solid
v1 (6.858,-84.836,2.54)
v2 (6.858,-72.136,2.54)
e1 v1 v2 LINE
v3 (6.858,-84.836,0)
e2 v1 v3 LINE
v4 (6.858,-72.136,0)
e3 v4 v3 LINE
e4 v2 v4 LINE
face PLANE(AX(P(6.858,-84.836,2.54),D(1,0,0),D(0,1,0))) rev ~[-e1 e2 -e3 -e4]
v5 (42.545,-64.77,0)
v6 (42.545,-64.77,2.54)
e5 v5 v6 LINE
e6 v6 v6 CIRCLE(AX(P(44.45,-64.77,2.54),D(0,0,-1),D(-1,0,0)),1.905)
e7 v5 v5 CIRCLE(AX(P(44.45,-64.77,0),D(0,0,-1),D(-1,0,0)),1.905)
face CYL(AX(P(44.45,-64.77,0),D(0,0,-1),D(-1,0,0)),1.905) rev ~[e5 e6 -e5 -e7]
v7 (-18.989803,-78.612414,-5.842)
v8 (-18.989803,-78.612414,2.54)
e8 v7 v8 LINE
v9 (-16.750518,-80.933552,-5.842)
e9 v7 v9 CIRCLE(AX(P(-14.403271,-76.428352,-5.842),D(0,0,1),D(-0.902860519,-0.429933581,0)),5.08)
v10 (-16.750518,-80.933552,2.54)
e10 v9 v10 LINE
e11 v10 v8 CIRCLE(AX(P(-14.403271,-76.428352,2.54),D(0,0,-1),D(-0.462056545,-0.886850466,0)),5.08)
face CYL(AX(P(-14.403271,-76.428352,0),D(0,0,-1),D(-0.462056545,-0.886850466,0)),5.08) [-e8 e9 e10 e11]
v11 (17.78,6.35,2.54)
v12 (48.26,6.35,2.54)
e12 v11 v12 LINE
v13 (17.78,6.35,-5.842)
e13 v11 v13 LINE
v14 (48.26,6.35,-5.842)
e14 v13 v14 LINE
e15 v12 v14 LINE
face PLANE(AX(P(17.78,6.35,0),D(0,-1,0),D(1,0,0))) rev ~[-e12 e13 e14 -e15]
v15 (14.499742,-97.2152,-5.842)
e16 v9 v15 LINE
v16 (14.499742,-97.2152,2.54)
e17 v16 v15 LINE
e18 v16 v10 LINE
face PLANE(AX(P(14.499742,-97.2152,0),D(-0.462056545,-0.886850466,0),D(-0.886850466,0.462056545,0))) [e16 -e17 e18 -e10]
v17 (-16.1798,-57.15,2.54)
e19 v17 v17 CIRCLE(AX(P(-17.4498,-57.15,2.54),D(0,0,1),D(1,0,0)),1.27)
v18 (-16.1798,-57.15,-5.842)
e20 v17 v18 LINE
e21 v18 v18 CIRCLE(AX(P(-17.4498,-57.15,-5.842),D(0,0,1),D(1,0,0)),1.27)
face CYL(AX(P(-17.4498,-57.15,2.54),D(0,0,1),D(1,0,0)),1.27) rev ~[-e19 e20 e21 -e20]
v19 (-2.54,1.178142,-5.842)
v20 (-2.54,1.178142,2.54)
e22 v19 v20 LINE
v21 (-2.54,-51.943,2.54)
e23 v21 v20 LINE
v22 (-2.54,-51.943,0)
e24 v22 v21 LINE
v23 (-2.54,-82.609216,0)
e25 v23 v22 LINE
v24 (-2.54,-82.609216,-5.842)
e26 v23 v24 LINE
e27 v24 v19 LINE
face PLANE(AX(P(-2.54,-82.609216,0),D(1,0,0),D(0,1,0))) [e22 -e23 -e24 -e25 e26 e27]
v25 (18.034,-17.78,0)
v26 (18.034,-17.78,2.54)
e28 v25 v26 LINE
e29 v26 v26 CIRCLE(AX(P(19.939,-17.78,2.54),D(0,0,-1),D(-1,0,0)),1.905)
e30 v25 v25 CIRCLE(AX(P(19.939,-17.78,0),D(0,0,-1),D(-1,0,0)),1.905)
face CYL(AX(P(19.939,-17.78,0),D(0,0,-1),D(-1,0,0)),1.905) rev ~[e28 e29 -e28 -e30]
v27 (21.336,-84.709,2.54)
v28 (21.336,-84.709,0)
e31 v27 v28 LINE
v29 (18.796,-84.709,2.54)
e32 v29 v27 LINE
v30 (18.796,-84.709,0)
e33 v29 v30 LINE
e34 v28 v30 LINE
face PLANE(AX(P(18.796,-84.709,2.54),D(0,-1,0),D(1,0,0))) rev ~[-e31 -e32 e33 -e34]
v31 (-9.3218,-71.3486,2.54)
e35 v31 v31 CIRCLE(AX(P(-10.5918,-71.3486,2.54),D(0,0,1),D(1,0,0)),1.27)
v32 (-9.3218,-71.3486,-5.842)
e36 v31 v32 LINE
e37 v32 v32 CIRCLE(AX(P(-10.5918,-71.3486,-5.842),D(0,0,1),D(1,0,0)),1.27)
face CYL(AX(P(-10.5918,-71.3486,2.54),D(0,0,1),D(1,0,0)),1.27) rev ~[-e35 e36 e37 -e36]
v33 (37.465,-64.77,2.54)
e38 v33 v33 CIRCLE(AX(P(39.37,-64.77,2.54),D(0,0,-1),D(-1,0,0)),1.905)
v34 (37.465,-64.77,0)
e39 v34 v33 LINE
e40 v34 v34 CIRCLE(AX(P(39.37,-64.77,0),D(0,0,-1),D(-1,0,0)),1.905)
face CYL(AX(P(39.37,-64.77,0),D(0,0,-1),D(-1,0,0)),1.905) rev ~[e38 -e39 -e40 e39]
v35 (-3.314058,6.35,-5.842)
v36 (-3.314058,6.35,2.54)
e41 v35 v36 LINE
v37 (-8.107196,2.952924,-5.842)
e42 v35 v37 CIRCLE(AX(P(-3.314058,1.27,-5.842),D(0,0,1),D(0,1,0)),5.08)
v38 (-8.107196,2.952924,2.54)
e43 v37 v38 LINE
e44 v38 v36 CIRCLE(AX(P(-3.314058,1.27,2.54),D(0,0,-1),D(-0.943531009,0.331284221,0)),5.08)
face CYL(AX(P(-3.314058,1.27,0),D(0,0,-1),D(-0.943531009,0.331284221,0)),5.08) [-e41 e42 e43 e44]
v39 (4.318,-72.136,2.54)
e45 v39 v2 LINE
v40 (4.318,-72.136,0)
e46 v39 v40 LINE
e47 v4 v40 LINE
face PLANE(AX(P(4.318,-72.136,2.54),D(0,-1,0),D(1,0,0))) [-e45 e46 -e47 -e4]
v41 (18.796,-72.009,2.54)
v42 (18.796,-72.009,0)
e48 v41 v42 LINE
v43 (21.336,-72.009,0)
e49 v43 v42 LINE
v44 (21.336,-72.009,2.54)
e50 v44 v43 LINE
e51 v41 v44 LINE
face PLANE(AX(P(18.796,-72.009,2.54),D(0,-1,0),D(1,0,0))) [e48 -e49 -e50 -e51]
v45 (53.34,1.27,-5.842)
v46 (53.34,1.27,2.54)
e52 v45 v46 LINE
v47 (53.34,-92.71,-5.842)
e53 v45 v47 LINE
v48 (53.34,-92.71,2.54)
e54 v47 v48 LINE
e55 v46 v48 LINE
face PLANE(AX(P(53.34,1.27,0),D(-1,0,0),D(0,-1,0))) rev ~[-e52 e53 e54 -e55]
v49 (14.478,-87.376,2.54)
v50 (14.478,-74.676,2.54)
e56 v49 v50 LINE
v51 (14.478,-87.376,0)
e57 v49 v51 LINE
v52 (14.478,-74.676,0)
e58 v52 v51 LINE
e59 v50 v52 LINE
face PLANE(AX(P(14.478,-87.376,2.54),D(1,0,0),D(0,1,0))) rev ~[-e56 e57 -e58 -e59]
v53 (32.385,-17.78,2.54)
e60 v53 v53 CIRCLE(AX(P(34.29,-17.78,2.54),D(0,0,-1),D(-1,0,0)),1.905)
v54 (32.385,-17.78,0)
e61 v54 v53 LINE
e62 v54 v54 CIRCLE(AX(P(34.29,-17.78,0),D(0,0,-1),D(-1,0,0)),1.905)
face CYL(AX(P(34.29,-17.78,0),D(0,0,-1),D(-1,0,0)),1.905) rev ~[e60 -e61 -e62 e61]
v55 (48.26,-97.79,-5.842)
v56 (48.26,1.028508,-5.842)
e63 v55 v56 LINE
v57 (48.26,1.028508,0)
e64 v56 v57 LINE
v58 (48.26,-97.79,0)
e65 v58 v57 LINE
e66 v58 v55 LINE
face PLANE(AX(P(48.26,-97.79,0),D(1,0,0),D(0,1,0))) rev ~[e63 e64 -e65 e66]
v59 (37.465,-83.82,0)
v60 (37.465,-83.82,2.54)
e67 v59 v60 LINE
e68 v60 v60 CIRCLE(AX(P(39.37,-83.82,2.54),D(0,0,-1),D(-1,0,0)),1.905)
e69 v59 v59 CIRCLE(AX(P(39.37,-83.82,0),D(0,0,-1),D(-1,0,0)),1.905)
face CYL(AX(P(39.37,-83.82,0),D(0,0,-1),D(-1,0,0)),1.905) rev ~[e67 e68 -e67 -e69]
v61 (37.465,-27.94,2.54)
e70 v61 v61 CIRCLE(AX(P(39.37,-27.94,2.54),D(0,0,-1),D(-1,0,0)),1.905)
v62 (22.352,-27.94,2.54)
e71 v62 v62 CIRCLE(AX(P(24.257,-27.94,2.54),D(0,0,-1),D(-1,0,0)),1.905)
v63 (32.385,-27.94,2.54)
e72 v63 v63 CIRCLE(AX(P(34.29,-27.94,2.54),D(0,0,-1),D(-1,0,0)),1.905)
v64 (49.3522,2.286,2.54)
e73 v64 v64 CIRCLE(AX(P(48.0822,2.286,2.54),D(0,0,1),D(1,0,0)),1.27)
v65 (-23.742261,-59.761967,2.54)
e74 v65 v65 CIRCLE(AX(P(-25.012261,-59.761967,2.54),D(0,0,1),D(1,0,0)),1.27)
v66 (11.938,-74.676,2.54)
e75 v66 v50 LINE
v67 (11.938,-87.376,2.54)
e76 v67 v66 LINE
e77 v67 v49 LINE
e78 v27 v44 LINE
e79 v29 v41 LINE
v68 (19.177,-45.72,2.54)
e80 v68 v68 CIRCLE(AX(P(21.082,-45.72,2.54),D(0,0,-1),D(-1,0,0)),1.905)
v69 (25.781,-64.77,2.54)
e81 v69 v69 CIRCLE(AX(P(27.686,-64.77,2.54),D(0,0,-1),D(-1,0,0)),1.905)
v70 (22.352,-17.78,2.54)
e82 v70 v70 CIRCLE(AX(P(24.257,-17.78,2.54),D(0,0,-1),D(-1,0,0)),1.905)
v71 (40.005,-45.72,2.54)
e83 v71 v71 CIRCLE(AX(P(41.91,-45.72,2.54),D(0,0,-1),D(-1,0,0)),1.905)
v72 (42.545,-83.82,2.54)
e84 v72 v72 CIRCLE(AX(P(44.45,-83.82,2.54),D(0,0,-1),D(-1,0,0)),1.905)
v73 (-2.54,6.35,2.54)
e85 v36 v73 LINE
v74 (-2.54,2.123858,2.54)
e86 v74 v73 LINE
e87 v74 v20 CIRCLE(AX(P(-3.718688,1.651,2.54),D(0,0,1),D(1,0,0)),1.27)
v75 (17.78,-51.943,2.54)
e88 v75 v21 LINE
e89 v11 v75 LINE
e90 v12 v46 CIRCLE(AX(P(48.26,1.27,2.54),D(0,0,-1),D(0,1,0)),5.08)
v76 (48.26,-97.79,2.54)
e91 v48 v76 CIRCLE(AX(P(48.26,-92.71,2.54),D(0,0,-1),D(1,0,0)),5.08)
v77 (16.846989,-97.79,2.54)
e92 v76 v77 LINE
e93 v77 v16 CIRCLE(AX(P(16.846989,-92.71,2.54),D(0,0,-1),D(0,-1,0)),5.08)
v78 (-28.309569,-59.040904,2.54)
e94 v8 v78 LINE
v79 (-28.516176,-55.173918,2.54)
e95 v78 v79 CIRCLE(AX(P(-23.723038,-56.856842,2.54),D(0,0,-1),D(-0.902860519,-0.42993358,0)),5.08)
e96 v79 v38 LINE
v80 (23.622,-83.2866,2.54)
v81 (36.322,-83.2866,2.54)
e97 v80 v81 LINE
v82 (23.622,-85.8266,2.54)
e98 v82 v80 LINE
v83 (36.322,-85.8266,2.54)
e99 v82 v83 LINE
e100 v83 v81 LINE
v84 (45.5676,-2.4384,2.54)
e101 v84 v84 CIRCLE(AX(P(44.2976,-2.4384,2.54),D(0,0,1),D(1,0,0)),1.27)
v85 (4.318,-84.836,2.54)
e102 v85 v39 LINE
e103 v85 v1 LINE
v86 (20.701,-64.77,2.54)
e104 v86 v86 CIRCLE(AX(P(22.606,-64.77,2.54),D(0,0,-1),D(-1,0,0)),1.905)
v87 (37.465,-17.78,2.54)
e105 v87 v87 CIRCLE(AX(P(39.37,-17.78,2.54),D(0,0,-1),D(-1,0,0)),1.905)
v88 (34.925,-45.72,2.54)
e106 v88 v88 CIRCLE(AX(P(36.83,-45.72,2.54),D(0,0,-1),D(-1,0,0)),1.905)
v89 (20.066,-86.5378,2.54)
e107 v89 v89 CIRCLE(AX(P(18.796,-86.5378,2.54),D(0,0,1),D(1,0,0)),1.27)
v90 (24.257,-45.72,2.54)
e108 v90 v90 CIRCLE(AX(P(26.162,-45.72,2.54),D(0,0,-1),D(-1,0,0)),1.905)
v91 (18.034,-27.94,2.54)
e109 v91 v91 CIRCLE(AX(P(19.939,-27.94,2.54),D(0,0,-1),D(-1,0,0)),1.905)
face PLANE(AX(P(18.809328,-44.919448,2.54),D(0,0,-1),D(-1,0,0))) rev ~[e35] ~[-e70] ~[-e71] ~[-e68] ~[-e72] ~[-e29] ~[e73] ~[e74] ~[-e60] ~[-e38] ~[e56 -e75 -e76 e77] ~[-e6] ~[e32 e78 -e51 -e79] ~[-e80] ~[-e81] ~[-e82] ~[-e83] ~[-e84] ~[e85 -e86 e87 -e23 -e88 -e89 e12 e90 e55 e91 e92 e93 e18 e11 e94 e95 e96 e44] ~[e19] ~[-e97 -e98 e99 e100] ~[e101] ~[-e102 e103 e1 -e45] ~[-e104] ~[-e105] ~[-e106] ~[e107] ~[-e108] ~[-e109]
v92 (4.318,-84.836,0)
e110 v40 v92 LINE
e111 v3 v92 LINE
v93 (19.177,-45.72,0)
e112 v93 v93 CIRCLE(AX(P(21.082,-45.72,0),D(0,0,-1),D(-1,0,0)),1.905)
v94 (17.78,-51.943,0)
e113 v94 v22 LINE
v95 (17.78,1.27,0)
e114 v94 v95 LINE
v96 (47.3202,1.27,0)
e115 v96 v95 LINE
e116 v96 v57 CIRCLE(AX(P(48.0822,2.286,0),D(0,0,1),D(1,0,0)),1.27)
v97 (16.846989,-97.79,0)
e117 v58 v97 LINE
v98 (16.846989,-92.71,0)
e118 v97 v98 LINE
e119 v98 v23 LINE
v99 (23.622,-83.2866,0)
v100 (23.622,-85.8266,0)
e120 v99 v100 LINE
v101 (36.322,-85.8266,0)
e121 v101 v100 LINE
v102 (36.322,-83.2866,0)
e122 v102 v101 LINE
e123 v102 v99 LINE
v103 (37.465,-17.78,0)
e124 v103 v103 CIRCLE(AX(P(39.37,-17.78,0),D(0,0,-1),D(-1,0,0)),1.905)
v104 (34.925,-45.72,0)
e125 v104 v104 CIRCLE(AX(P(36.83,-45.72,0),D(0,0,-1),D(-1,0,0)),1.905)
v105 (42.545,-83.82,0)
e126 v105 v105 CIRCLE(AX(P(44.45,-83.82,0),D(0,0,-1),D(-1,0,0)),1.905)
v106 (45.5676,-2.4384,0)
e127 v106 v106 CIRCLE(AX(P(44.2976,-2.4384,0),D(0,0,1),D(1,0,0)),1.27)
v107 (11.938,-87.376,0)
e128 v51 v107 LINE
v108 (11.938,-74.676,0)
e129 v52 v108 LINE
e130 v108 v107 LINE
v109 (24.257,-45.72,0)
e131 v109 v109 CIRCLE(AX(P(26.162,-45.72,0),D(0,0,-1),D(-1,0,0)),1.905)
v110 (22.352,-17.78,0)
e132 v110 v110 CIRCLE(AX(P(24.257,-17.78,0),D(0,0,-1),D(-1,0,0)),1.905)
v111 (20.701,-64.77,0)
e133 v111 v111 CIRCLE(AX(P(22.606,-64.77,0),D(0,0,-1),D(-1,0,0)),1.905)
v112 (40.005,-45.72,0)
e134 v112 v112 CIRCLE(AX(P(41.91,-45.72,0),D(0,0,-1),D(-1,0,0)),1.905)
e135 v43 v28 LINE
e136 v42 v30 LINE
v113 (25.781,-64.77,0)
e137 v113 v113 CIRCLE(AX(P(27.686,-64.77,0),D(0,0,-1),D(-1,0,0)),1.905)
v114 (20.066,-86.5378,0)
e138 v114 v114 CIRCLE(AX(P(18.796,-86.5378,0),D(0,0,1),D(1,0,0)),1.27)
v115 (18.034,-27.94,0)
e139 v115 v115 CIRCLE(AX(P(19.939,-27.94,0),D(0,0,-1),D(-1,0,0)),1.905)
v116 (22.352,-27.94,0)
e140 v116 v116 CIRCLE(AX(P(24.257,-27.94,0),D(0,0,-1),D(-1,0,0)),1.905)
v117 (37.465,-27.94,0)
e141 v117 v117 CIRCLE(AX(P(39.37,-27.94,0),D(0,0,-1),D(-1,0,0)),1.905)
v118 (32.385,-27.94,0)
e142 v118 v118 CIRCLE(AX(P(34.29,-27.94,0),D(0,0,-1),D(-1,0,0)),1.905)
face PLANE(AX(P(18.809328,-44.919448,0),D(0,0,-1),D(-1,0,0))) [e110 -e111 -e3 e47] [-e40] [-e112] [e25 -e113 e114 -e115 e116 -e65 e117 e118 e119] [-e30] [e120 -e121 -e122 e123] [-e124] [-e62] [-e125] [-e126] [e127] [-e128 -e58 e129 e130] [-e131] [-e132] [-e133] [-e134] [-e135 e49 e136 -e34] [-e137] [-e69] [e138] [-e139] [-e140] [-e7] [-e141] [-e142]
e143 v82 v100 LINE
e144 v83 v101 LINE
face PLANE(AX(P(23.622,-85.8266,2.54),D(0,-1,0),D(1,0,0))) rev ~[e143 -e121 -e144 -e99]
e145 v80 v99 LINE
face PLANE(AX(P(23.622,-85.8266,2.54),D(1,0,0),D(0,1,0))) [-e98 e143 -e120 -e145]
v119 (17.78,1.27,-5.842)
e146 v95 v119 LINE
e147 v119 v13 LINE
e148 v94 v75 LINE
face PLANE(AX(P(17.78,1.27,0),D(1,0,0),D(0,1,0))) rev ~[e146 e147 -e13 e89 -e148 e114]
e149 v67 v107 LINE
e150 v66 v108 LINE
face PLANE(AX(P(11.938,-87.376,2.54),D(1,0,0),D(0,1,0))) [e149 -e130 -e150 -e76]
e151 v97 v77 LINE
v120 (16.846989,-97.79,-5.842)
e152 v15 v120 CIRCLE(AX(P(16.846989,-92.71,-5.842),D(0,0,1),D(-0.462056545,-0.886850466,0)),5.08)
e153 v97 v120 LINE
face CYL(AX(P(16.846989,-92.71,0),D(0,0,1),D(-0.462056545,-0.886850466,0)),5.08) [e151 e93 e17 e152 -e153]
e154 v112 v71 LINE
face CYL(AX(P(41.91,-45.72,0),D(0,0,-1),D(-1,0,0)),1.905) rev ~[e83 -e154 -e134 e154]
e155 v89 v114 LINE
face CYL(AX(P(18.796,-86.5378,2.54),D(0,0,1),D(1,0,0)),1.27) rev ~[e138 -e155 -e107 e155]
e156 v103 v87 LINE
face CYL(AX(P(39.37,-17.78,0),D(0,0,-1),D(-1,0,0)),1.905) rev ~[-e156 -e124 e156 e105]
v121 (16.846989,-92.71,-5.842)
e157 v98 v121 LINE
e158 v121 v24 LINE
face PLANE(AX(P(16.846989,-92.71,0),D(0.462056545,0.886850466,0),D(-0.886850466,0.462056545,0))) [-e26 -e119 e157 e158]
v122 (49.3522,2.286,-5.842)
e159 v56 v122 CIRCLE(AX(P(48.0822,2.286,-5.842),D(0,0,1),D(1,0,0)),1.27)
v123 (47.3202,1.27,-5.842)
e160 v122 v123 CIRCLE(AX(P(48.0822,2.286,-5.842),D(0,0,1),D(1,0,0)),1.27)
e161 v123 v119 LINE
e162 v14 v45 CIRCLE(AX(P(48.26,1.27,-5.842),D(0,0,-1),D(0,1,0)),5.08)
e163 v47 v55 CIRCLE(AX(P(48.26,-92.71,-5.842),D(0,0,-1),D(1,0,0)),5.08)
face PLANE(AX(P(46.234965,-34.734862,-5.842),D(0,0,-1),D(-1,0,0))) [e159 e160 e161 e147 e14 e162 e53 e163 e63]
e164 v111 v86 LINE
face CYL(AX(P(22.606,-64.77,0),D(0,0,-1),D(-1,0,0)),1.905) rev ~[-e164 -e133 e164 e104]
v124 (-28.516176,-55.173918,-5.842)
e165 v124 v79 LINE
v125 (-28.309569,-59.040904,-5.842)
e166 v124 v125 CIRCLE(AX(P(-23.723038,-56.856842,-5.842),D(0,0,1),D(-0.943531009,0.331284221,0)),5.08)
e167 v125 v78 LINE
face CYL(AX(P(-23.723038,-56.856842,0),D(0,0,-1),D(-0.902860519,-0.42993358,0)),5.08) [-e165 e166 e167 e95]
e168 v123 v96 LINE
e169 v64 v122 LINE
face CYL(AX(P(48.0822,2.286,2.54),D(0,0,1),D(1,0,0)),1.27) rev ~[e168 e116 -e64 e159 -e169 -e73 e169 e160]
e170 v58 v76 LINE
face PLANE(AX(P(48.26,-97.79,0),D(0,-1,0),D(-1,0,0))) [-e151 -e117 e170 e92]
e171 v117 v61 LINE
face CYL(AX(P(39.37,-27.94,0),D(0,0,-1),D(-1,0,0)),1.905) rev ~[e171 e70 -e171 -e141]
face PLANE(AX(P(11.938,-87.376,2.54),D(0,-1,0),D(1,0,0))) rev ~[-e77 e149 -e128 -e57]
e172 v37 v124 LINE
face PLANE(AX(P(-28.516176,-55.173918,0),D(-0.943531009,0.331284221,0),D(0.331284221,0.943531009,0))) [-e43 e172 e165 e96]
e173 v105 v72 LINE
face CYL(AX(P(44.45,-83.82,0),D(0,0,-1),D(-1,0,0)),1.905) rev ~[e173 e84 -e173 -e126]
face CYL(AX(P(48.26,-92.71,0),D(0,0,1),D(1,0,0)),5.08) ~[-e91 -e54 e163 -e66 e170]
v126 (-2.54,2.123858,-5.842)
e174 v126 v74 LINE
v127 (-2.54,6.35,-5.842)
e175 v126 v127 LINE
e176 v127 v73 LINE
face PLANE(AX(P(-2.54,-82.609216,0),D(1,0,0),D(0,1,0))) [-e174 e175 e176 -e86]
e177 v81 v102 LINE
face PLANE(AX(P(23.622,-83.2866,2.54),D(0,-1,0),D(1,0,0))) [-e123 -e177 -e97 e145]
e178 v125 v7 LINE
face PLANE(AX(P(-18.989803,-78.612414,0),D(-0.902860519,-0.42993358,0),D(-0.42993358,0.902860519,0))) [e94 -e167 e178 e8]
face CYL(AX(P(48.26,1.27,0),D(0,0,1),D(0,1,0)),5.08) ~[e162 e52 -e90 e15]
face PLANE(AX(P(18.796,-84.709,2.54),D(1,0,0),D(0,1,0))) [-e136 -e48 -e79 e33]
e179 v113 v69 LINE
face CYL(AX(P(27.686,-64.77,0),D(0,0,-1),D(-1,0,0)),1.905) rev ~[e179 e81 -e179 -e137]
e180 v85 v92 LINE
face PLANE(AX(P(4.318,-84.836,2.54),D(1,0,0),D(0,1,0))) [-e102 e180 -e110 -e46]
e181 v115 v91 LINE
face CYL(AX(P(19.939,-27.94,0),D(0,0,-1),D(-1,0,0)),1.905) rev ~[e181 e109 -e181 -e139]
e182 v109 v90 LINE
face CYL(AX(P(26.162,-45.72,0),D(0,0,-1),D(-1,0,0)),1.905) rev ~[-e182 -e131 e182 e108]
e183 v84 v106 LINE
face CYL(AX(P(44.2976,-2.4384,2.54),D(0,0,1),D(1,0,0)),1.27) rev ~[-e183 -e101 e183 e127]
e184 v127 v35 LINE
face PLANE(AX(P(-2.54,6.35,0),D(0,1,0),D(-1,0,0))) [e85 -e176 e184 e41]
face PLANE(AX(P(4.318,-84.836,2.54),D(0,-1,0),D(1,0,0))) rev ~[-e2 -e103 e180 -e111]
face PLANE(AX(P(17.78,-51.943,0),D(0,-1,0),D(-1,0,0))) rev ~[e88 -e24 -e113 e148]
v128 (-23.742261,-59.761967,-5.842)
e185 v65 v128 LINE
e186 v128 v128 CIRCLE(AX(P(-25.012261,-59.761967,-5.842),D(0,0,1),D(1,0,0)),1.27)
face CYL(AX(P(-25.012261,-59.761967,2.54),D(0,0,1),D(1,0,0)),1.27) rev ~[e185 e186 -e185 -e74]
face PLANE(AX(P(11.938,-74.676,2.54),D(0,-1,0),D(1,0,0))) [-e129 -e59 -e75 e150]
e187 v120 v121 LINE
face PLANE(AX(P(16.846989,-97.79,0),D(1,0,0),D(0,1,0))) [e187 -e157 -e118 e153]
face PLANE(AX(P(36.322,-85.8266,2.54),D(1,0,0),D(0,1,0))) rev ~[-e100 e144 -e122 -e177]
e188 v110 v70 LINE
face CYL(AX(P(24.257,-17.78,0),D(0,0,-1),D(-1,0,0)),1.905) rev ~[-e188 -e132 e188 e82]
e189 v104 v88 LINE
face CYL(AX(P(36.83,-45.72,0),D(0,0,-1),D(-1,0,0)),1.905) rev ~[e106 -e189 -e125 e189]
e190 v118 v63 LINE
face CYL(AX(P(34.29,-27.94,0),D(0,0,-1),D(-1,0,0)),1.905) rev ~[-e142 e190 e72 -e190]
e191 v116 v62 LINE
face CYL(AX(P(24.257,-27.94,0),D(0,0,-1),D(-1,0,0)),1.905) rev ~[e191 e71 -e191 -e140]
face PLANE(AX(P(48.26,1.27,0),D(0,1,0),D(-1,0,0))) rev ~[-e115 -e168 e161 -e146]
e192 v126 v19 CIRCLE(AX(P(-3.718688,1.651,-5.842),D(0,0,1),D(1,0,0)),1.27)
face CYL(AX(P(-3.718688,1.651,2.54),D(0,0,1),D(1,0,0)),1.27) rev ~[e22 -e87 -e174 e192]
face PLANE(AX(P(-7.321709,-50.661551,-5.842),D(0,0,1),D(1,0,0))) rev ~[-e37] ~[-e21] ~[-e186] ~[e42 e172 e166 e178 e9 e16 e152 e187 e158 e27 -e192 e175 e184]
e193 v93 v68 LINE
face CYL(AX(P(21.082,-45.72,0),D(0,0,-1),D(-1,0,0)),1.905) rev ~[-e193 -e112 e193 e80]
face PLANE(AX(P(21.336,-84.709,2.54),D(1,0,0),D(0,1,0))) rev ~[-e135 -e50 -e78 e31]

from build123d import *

# Parameters (mm, degrees)
BOSS_EXTRUDE1_DEPTH     = 2.54
SKETCH4_R               = 1.905
SKETCH4_W               = 20.32
SKETCH4_H               = 50.8
CUT_EXTRUDE2_DEPTH      = 25.4
SKETCH5_W               = 20.32
SKETCH5_H               = 7.493
CUT_EXTRUDE3_DEPTH      = 5.08
SKETCH8_W               = 12.7
SKETCH8_H               = 2.54
SKETCH8_W_2             = 2.54
SKETCH8_H_2             = 12.7
CUT_EXTRUDE5_DEPTH      = 5.08
BOSS_EXTRUDE2_DEPTH     = 5.842
SKETCH10_R              = 1.27
CUT_EXTRUDE6_DEPTH      = 1
CUT_EXTRUDE6_DEPTH_BACK = 9.382
SKETCH6_R               = 1.27
CUT_EXTRUDE7_DEPTH      = 1
CUT_EXTRUDE7_DEPTH_BACK = 9.382


with BuildPart() as part:
    # Sketch1 → Boss-Extrude1 (new body)
    with BuildSketch(Plane.XY):
        with BuildLine():
            Line((-3.314058103, 6.35), (48.26, 6.35))
            ThreePointArc((48.26, 6.35), (51.852102448, 4.862102448), (53.34, 1.27))
            Line((53.34, 1.27), (53.34, -92.71))
            ThreePointArc((53.34, -92.71), (51.852102448, -96.302102448), (48.26, -97.79))
            Line((48.26, -97.79), (16.846989059, -97.79))
            ThreePointArc((16.846989059, -97.79), (15.638688158, -97.644208035), (14.499741809, -97.215200367))
            Line((14.499741809, -97.215200367), (-16.7505185, -80.933552139))
            ThreePointArc((-16.7505185, -80.933552139), (-18.059258376, -79.955412607), (-18.989802686, -78.61241436))
            Line((-18.989802686, -78.61241436), (-28.309569459, -59.040904135))
            ThreePointArc((-28.309569459, -59.040904135), (-28.795802898, -57.127870198), (-28.51617555, -55.173917704))
            Line((-28.51617555, -55.173917704), (-8.107195629, 2.952923842))
            ThreePointArc((-8.107195629, 2.952923842), (-6.251501454, 5.414614163), (-3.314058103, 6.35))
        make_face()
    extrude(amount=BOSS_EXTRUDE1_DEPTH)

    # Sketch4 → Cut-Extrude2 (cut)
    with BuildSketch(Plane(origin=(0, 0, 0), x_dir=(-1, 0, 0), z_dir=(0, 0, -1))):
        with Locations((-39.37, -17.78)):
            Circle(SKETCH4_R)
        with Locations((-34.29, -17.78)):
            Circle(SKETCH4_R)
        with Locations((-39.37, -27.94)):
            Circle(SKETCH4_R)
        with Locations((-34.29, -27.94)):
            Circle(SKETCH4_R)
        with Locations((-41.91, -45.72)):
            Circle(SKETCH4_R)
        with Locations((-36.83, -45.72)):
            Circle(SKETCH4_R)
        with Locations((-44.45, -64.77)):
            Circle(SKETCH4_R)
        with Locations((-39.37, -64.77)):
            Circle(SKETCH4_R)
        with Locations((-44.45, -83.82)):
            Circle(SKETCH4_R)
        with Locations((-39.37, -83.82)):
            Circle(SKETCH4_R)
        with Locations((-24.257, -17.78)):
            Circle(SKETCH4_R)
        with Locations((-19.939, -17.78)):
            Circle(SKETCH4_R)
        with Locations((-24.257, -27.94)):
            Circle(SKETCH4_R)
        with Locations((-19.939, -27.94)):
            Circle(SKETCH4_R)
        with Locations((-26.162, -45.72)):
            Circle(SKETCH4_R)
        with Locations((-21.082, -45.72)):
            Circle(SKETCH4_R)
        with Locations((-27.686, -64.77)):
            Circle(SKETCH4_R)
        with Locations((-22.606, -64.77)):
            Circle(SKETCH4_R)
        with Locations((-7.62, -26.543)):
            Rectangle(SKETCH4_W, SKETCH4_H)
    extrude(amount=-CUT_EXTRUDE2_DEPTH, mode=Mode.SUBTRACT)

    # Sketch5 → Cut-Extrude3 (cut)
    with BuildSketch(Plane.XY.offset(2.54)):
        with Locations((7.62, 2.6035)):
            Rectangle(SKETCH5_W, SKETCH5_H)
    extrude(amount=-CUT_EXTRUDE3_DEPTH, mode=Mode.SUBTRACT)

    # Sketch8 → Cut-Extrude5 (cut)
    with BuildSketch(Plane.XY.offset(2.54)):
        with Locations((29.972, -84.5566)):
            Rectangle(SKETCH8_W, SKETCH8_H)
        with Locations((20.066, -78.359)):
            Rectangle(SKETCH8_W_2, SKETCH8_H_2)
        with Locations((13.208, -81.026)):
            Rectangle(SKETCH8_W_2, SKETCH8_H_2)
        with Locations((5.588, -78.486)):
            Rectangle(SKETCH8_W_2, SKETCH8_H_2)
    extrude(amount=-CUT_EXTRUDE5_DEPTH, mode=Mode.SUBTRACT)

    # Sketch9 → Boss-Extrude2 (add)
    with BuildSketch(Plane(origin=(0, 0, 0), x_dir=(-1, 0, 0), z_dir=(0, 0, -1))):
        with BuildLine():
            Line((-48.26, -97.79), (-48.26, 1.27))
            Line((-48.26, 1.27), (-17.78, 1.27))
            Line((-17.78, 1.27), (-17.78, 6.35))
            Line((-17.78, 6.35), (-48.26, 6.35))
            ThreePointArc((-48.26, 6.35), (-51.852102448, 4.862102448), (-53.34, 1.27))
            Line((-53.34, 1.27), (-53.34, -92.71))
            ThreePointArc((-53.34, -92.71), (-51.852102448, -96.302102448), (-48.26, -97.79))
        make_face()
        with BuildLine():
            Line((2.54, -82.609215784), (2.54, 6.35))
            Line((2.54, 6.35), (3.314058103, 6.35))
            ThreePointArc((3.314058103, 6.35), (6.251501454, 5.414614163), (8.107195629, 2.952923842))
            Line((8.107195629, 2.952923842), (28.51617555, -55.173917704))
            ThreePointArc((28.51617555, -55.173917704), (28.795802898, -57.127870198), (28.309569459, -59.040904135))
            Line((28.309569459, -59.040904135), (18.989802686, -78.61241436))
            ThreePointArc((18.989802686, -78.61241436), (18.059258376, -79.955412607), (16.7505185, -80.933552139))
            Line((16.7505185, -80.933552139), (-14.499741809, -97.215200367))
            ThreePointArc((-14.499741809, -97.215200367), (-15.638688158, -97.644208035), (-16.846989059, -97.79))
            Line((-16.846989059, -97.79), (-16.846989059, -92.71))
            Line((-16.846989059, -92.71), (2.54, -82.609215784))
        make_face()
    extrude(amount=BOSS_EXTRUDE2_DEPTH)

    # Sketch10 → Cut-Extrude6 (cut, two sides)
    with BuildSketch(Plane.XY.offset(2.54)) as cut_extrude6_sk:
        with Locations((48.0822, 2.286)):
            Circle(SKETCH10_R)
        with Locations((-3.718687848, 1.651)):
            Circle(SKETCH10_R)
        with Locations((-25.012261453, -59.761967182)):
            Circle(SKETCH10_R)
    extrude(amount=CUT_EXTRUDE6_DEPTH, mode=Mode.SUBTRACT)
    extrude(cut_extrude6_sk.sketch, amount=-CUT_EXTRUDE6_DEPTH_BACK, mode=Mode.SUBTRACT)

    # Sketch6 → Cut-Extrude7 (cut, two sides)
    with BuildSketch(Plane.XY.offset(2.54)) as cut_extrude7_sk:
        with Locations((1.6002, -2.4384)):
            Circle(SKETCH6_R)
        with Locations((44.2976, -2.4384)):
            Circle(SKETCH6_R)
        with Locations((-17.4498, -57.15)):
            Circle(SKETCH6_R)
        with Locations((-10.5918, -71.3486)):
            Circle(SKETCH6_R)
        with Locations((18.796, -86.5378)):
            Circle(SKETCH6_R)
    extrude(amount=CUT_EXTRUDE7_DEPTH, mode=Mode.SUBTRACT)
    extrude(cut_extrude7_sk.sketch, amount=-CUT_EXTRUDE7_DEPTH_BACK, mode=Mode.SUBTRACT)


solid = part.part
